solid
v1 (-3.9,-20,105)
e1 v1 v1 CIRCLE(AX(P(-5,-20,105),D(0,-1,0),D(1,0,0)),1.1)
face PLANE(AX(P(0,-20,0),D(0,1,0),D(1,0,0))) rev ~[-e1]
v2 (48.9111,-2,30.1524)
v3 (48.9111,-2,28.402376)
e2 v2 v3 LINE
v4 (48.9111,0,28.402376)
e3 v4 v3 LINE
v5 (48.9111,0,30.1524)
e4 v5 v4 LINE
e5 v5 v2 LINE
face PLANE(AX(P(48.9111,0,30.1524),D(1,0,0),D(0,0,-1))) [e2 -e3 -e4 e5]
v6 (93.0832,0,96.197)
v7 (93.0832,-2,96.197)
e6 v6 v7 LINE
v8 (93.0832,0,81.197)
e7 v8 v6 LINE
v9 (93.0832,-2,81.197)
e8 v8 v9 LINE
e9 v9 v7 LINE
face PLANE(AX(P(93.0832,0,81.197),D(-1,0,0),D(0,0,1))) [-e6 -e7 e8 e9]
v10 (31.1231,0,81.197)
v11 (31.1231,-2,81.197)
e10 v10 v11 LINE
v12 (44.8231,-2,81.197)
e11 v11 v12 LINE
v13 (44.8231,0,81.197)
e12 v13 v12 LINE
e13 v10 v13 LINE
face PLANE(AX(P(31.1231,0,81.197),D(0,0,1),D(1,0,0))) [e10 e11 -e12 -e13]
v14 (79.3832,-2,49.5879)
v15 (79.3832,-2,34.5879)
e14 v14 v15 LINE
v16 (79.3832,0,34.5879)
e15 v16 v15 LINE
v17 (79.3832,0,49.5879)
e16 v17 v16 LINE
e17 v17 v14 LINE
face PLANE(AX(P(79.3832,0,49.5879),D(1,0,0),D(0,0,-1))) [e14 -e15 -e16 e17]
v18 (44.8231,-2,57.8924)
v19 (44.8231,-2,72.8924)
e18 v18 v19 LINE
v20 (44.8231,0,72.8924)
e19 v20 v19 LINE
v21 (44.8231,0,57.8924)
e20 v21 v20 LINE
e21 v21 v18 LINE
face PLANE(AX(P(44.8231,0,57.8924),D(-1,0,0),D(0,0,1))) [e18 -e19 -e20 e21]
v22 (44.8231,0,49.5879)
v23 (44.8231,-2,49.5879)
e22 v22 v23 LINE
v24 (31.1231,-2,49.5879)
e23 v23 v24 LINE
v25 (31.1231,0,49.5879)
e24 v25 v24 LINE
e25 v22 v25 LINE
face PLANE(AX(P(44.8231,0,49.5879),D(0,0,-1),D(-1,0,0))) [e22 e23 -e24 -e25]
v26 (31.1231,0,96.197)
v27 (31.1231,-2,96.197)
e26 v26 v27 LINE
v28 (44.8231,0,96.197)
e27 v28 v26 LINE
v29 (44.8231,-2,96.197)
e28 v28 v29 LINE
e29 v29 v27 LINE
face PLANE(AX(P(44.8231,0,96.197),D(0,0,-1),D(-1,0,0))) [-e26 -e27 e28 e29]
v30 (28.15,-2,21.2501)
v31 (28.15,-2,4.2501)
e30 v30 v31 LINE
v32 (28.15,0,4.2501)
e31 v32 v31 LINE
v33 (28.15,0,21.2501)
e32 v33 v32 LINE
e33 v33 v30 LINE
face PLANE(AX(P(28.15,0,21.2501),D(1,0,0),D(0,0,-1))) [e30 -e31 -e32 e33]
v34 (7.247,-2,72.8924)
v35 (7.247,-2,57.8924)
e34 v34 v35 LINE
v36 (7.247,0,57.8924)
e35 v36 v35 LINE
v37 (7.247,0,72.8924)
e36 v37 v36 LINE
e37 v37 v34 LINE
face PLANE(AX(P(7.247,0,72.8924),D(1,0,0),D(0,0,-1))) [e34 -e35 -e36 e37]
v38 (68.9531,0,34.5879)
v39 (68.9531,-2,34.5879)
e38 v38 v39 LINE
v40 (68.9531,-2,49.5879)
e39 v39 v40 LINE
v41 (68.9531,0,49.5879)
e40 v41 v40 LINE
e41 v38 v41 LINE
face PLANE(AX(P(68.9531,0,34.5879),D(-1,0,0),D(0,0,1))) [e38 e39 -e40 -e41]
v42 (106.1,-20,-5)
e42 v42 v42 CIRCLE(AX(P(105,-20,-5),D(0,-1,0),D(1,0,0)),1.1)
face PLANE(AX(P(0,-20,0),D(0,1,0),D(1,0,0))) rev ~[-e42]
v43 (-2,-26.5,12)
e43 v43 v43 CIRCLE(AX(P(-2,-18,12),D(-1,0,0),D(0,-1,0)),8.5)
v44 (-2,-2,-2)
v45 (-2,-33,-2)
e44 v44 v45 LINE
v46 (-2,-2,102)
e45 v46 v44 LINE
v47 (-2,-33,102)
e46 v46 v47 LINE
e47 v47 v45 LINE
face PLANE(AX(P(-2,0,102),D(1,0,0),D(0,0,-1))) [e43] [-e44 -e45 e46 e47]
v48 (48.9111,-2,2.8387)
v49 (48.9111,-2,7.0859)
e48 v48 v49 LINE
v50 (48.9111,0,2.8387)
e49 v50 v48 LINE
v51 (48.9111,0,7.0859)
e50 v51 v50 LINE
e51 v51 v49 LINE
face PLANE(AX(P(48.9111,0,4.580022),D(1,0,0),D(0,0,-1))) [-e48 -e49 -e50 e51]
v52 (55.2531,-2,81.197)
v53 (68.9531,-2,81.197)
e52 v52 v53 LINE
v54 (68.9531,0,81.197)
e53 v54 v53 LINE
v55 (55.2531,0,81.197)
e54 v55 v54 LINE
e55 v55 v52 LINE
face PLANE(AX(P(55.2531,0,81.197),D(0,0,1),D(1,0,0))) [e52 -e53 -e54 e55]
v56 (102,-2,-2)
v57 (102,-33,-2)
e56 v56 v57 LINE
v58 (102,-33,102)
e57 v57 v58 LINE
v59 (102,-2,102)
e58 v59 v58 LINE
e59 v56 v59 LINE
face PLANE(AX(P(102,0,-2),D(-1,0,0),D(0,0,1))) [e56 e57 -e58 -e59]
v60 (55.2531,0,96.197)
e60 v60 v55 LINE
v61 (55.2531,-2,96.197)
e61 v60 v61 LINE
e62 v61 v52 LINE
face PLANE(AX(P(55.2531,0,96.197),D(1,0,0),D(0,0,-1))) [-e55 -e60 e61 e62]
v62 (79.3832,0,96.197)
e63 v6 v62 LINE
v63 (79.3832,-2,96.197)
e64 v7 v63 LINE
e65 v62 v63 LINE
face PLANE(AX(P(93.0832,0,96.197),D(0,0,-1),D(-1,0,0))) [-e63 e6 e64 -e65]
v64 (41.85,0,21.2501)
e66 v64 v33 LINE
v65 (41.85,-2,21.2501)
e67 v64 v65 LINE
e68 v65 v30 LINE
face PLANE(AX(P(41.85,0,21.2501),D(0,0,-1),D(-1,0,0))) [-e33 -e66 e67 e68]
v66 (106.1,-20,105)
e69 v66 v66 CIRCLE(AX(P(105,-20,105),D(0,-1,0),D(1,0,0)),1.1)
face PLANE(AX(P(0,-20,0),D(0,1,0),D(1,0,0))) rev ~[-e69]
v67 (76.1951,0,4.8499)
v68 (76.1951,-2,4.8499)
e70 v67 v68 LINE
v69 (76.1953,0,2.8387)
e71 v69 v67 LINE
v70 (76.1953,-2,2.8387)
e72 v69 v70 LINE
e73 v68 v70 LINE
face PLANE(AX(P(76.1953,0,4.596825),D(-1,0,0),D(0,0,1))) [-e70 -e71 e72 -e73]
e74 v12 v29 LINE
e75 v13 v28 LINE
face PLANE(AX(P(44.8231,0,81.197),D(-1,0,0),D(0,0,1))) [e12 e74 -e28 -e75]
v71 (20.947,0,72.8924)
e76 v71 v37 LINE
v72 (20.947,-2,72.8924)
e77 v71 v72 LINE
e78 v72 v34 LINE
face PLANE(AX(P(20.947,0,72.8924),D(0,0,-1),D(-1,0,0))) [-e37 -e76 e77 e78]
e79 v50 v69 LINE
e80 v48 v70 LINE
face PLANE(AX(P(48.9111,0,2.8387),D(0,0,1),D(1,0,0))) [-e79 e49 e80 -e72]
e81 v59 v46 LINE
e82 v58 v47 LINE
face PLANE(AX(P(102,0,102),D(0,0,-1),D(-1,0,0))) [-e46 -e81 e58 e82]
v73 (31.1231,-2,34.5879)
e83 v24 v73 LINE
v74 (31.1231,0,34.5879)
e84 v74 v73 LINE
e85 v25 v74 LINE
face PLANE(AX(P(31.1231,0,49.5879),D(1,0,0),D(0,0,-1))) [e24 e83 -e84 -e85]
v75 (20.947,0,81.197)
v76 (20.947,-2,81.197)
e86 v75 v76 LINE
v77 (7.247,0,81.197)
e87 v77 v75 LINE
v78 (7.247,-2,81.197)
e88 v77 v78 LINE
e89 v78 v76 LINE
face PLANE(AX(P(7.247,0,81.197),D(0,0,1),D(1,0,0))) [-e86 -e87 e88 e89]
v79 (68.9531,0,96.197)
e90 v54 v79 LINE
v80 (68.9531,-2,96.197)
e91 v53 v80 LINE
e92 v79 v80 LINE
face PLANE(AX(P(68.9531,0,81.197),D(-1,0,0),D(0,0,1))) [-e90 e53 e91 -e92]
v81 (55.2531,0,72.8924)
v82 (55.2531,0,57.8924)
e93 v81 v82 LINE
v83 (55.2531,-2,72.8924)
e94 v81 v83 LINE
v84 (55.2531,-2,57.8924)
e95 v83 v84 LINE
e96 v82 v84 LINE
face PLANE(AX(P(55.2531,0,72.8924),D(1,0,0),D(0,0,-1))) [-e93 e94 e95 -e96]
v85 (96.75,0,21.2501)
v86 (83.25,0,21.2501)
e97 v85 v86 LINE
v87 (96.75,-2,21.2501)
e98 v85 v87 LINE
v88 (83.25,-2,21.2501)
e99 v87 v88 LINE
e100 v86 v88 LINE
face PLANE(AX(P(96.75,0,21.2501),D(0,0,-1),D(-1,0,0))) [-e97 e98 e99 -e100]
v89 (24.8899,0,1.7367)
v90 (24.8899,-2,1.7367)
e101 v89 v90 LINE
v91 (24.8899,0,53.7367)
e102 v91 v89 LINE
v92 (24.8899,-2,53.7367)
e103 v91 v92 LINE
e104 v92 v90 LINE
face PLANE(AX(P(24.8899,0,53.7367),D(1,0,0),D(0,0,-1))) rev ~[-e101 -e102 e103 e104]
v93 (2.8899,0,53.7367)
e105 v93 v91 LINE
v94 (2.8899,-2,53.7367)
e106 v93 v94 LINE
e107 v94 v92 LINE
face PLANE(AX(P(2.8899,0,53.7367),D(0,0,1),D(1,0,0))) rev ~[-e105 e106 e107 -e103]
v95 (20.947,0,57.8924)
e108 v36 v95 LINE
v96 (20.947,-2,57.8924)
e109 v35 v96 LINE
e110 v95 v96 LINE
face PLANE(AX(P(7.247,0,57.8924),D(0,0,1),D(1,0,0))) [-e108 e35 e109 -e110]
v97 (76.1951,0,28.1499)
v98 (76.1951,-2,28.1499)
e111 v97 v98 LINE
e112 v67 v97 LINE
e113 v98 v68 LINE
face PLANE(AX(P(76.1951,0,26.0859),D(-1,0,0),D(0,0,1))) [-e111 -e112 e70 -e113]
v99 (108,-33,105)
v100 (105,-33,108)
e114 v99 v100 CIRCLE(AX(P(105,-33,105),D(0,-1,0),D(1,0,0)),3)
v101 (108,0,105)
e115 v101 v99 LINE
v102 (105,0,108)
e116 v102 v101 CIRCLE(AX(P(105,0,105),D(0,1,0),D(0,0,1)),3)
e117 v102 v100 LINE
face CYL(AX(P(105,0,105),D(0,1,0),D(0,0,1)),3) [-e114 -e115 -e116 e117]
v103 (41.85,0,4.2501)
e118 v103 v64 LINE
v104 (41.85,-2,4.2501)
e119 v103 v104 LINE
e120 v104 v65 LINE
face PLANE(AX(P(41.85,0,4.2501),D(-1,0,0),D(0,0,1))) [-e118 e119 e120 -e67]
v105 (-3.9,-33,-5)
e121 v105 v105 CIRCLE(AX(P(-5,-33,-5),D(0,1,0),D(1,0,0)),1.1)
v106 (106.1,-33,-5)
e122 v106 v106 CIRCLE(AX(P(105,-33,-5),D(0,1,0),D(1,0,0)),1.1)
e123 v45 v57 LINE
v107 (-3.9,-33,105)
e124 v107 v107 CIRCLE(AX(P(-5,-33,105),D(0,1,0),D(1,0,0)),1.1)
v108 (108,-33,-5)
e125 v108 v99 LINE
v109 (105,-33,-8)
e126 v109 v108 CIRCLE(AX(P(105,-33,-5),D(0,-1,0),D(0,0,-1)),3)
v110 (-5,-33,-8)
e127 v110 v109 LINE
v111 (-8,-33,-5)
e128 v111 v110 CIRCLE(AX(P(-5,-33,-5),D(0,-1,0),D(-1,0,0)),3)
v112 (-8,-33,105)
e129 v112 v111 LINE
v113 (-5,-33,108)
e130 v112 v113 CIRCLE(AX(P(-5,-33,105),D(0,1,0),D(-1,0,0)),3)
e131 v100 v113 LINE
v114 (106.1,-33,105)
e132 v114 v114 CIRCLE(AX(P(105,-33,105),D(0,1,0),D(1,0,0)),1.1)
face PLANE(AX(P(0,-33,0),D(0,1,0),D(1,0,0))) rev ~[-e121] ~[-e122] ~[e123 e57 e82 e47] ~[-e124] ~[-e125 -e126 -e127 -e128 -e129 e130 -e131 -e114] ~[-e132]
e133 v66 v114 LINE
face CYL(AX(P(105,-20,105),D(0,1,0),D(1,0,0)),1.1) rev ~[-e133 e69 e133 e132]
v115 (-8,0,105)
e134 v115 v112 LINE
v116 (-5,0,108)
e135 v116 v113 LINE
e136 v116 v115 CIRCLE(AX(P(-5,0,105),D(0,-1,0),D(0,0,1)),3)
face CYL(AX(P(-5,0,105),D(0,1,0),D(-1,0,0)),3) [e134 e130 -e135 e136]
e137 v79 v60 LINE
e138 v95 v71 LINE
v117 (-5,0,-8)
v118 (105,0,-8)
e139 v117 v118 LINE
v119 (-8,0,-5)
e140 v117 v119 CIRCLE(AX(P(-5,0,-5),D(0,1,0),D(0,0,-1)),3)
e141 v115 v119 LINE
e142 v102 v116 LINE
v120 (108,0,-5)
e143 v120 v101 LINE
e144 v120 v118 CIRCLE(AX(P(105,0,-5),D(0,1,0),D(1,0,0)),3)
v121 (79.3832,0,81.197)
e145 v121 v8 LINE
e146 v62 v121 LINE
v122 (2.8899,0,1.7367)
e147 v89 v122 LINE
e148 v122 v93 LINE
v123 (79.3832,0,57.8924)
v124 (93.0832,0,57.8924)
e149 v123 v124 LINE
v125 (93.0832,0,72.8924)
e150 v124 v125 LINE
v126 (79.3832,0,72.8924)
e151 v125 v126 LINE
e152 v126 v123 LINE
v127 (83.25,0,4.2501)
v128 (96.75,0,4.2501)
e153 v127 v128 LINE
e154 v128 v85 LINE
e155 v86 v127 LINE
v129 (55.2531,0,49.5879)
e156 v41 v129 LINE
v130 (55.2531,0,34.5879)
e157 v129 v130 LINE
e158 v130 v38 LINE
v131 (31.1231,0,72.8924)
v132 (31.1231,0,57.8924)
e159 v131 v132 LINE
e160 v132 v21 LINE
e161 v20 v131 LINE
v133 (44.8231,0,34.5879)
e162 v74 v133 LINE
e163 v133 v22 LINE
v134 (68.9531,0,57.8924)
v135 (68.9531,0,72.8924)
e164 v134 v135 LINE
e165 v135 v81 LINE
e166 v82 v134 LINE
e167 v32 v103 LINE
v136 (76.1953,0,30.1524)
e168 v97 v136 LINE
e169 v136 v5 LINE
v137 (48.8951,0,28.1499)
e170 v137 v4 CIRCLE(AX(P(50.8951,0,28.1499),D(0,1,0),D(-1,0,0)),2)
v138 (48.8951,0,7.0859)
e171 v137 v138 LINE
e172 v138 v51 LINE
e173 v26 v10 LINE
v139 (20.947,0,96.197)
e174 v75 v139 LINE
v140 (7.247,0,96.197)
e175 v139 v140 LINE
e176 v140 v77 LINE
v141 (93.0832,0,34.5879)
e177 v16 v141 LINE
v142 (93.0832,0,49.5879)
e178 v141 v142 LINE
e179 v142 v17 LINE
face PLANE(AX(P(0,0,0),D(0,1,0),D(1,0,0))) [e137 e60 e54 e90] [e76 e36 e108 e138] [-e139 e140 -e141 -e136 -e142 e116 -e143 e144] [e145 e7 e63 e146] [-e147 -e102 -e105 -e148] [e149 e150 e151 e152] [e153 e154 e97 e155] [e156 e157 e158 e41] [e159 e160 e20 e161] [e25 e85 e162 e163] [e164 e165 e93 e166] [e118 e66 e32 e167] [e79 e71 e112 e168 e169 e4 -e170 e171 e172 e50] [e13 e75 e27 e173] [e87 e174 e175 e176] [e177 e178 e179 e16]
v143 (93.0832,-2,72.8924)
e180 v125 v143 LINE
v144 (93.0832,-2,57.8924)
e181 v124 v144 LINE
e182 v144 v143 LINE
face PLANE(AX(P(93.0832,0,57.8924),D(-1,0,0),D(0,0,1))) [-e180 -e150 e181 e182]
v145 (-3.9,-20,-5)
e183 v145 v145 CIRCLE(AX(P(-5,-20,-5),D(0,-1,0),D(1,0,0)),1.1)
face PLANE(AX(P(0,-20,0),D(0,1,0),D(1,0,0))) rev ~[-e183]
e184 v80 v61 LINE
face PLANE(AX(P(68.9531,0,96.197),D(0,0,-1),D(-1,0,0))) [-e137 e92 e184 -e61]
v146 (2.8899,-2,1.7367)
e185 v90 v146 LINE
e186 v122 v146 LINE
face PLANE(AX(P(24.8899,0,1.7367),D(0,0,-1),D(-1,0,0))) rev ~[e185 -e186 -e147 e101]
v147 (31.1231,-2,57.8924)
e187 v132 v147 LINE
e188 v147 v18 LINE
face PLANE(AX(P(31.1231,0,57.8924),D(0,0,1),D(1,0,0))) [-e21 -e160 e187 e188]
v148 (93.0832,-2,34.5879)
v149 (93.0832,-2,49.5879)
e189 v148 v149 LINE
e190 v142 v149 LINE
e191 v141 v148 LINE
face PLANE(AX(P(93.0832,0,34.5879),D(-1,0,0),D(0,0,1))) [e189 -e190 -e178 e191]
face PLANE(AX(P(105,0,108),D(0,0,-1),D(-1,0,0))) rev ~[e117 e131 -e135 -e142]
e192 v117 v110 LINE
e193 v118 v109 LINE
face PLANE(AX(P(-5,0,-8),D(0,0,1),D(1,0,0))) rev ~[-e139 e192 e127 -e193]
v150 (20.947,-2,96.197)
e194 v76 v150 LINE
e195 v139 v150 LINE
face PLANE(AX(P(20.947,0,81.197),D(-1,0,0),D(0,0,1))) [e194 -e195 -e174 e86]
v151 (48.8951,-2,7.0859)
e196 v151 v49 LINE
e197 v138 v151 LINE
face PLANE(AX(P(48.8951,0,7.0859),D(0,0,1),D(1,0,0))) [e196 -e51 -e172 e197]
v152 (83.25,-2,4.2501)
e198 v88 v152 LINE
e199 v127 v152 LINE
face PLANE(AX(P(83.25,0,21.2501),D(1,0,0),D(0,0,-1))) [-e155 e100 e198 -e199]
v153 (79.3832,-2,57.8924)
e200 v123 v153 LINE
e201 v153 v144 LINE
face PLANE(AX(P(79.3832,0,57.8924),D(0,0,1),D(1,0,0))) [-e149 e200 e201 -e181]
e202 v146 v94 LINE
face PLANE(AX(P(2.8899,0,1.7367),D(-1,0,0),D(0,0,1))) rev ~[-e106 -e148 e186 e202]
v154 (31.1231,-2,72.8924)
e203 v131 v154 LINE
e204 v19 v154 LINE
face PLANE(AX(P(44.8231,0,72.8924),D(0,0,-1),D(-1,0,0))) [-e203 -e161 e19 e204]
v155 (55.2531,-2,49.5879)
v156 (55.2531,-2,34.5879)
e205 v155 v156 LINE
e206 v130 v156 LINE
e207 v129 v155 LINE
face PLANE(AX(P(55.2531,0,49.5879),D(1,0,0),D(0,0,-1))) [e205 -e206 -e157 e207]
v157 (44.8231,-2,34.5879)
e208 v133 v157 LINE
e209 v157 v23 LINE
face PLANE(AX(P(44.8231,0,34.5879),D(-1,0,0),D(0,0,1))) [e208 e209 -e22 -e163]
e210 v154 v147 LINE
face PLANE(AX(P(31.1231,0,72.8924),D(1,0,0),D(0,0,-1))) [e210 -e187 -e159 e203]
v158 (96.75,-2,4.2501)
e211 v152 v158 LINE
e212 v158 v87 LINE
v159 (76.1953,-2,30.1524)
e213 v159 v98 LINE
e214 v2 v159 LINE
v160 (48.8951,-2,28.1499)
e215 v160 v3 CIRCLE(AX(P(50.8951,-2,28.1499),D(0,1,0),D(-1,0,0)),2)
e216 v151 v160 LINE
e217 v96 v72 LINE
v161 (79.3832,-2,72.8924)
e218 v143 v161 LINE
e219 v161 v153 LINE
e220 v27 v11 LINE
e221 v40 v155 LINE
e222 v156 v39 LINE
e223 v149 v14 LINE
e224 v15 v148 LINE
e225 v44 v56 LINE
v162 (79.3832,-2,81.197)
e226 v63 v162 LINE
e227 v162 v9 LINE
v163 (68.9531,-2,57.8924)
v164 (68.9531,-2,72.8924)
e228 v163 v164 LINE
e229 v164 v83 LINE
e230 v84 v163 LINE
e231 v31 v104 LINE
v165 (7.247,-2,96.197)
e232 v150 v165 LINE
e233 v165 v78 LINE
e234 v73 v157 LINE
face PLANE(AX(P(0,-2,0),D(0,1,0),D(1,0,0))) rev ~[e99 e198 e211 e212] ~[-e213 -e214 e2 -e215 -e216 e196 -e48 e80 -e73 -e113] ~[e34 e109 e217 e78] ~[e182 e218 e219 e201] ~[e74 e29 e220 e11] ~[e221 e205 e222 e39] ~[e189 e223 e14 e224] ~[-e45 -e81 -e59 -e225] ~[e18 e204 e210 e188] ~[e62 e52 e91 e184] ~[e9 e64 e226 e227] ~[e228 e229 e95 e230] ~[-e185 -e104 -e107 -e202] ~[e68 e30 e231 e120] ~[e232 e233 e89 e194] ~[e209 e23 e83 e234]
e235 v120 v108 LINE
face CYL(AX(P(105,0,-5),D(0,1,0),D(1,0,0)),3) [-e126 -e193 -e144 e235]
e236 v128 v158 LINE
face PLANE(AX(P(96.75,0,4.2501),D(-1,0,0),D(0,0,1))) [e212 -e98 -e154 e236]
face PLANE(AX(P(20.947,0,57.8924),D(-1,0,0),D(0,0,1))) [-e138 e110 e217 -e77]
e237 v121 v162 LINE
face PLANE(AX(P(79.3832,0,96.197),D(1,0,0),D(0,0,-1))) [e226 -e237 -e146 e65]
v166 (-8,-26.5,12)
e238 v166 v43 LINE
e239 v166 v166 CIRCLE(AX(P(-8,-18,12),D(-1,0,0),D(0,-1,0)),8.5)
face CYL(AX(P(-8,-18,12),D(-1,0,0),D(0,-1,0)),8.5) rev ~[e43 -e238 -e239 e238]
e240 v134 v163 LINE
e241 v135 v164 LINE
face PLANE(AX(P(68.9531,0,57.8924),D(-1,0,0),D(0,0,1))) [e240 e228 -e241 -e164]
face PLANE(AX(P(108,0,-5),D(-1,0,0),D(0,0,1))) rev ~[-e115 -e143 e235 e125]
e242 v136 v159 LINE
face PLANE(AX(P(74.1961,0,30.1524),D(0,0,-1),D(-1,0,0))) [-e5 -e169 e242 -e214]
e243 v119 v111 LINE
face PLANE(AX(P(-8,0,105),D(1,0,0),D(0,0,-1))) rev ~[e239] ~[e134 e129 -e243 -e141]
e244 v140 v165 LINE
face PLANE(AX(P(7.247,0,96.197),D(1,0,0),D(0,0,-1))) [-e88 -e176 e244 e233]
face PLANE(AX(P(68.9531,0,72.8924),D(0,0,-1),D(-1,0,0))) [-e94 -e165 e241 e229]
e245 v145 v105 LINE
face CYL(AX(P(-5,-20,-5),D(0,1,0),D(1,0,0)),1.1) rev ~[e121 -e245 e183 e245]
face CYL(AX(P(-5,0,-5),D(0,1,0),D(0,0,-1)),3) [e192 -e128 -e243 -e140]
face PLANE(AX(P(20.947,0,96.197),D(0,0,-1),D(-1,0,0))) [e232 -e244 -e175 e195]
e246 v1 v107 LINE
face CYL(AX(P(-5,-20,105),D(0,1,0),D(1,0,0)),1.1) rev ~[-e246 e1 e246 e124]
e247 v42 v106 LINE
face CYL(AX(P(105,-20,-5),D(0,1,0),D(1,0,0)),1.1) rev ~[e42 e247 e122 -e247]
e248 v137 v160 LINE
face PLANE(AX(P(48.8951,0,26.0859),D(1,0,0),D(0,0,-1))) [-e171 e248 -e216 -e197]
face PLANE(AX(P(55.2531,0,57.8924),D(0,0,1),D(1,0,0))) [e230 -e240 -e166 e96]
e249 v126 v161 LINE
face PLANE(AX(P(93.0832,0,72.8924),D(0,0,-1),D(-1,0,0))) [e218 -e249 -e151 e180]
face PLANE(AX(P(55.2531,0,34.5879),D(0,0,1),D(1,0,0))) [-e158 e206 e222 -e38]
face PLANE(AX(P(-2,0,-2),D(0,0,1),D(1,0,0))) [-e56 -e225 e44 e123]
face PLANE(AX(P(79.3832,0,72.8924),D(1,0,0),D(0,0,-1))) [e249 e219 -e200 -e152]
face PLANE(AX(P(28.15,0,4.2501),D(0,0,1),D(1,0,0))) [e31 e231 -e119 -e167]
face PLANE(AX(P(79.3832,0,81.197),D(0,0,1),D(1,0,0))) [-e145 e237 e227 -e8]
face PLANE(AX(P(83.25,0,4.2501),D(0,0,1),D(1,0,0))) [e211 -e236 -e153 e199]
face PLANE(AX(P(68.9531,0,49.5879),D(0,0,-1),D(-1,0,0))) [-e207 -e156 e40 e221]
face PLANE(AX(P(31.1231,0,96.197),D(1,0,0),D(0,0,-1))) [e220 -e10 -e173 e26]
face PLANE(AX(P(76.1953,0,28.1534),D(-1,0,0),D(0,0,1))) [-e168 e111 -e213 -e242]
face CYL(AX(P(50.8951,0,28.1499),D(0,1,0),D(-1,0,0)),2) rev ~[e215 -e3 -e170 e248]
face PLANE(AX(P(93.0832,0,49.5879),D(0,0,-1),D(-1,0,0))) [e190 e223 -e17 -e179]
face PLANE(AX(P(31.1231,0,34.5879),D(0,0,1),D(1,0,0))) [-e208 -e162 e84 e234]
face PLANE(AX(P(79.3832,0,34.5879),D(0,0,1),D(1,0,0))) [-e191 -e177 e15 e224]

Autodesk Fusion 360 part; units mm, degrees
sketch "MacroKeyboard" plane through (0, 0, 0) normal (0, 1, 0) x (1, 0, 0)
  line L0 (24.38, -2.5067) -> (24.3899, -2.2367)
  line L1 (48.8951, -28.1499) -> (48.8951, -6.1499)
  line L2 (48.8951, -6.1499) -> (48.8951, -4.8499)
  line L3 (50.8951, -2.8499) -> (74.1951, -2.8499)
  line L4 (76.1951, -4.8499) -> (76.1951, -28.1499)
  line L5 (48.8951, -26.0859) -> (75.8951, -26.0859)
  line L6 (75.8951, -26.0859) -> (76.1951, -26.0859)
  line L7 (48.8951, -7.0859) -> (76.1951, -7.0859)
  line L8 (50.9271, -30.1499) -> (53.9271, -30.1499)
  line L9 (71.2271, -30.1499) -> (74.2271, -30.1499)
  line L10 (55.9271, -28.1499) -> (69.2271, -28.1499)
  line L11 (53.9271, -30.1499) -> (55.9271, -28.1499)
  line L12 (69.2271, -28.1499) -> (71.2271, -30.1499)
  line L13 (36.27, -14.02) -> (33.73, -14.02)
  line L14 (28.7501, -19.4501) -> (28.7501, -14.9001)
  line L15 (41.2502, -19.4501) -> (41.2502, -14.9001)
  line L16 (28.7501, -10.6) -> (28.7501, -6.05)
  line L17 (41.2502, -10.6) -> (41.2502, -6.05)
  line L18 (38.7003, -6.05) -> (41.2504, -6.05)
  line L19 (38.4002, -19.4501) -> (41.2501, -19.4501)
  line L20 (35.92, -19.4501) -> (36.62, -19.4501)
  line L21 (33.4, -19.4501) -> (34.1, -19.4501)
  line L22 (28.7501, -19.4501) -> (31.6, -19.4501)
  line L23 (33.725, -6.05) -> (36.275, -6.05)
  line L24 (28.7501, -6.05) -> (31.3, -6.05)
  line L25 (91.27, -14.02) -> (88.73, -14.02)
  line L26 (83.7501, -19.4501) -> (83.7501, -14.9001)
  line L27 (96.2502, -19.4501) -> (96.2502, -14.9001)
  line L28 (83.7501, -10.6) -> (83.7501, -6.05)
  line L29 (96.2502, -10.6) -> (96.2502, -6.05)
  line L30 (93.7003, -6.05) -> (96.2504, -6.05)
  line L31 (93.4002, -19.4501) -> (96.2501, -19.4501)
  line L32 (90.92, -19.4501) -> (91.62, -19.4501)
  line L33 (88.4, -19.4501) -> (89.1, -19.4501)
  line L34 (83.7501, -19.4501) -> (86.6, -19.4501)
  line L35 (88.725, -6.05) -> (91.275, -6.05)
  line L36 (83.7501, -6.05) -> (86.3, -6.05)
  arc A0 (48.8951, -28.1499) -> (50.8951, -30.1499) centre (50.8951, -28.1499) ccw
  arc A1 (50.8915, -2.8524) -> (48.8926, -4.8514) centre (50.8915, -4.8514) ccw
  arc A2 (76.2103, -4.8412) -> (74.2113, -2.8423) centre (74.2113, -4.8412) ccw
  arc A3 (74.1961, -30.1524) -> (76.1951, -28.1534) centre (74.1961, -28.1534) ccw
  arc A4 (36.27, -14.02) -> (33.73, -14.02) centre (35, -12.75) ccw
  arc A5 (91.27, -14.02) -> (88.73, -14.02) centre (90, -12.75) ccw
  circle A6 centre (35, -12.7501) radius 3
  circle A7 centre (90, -12.7501) radius 3
  circle A8 centre (34.1631, -39.5479) radius 0.7493
  circle A9 centre (34.1631, -39.5479) radius 1.1557
  circle A10 centre (40.5131, -37.0079) radius 0.7493
  circle A11 centre (40.5131, -37.0079) radius 1.1557
  circle A12 centre (58.2931, -39.5479) radius 0.7493
  circle A13 centre (58.2931, -39.5479) radius 1.1557
  circle A14 centre (64.6431, -37.0079) radius 0.7493
  circle A15 centre (64.6431, -37.0079) radius 1.1557
  circle A16 centre (82.4232, -39.5479) radius 0.7493
  circle A17 centre (82.4232, -39.5479) radius 1.1557
  circle A18 centre (88.7732, -37.0079) radius 0.7493
  circle A19 centre (88.7732, -37.0079) radius 1.1557
  circle A20 centre (10.287, -62.8524) radius 0.7493
  circle A21 centre (10.287, -62.8524) radius 1.1557
  circle A22 centre (16.637, -60.3124) radius 0.7493
  circle A23 centre (16.637, -60.3124) radius 1.1557
  circle A24 centre (34.163, -62.8524) radius 0.7493
  circle A25 centre (34.1631, -62.8524) radius 1.1557
  circle A26 centre (40.513, -60.3124) radius 0.7493
  circle A27 centre (40.5131, -60.3124) radius 1.1557
  circle A28 centre (58.2932, -62.8524) radius 0.7493
  circle A29 centre (58.2931, -62.8524) radius 1.1557
  circle A30 centre (64.6432, -60.3124) radius 0.7493
  circle A31 centre (64.6431, -60.3124) radius 1.1557
  circle A32 centre (82.4232, -62.8524) radius 0.7493
  circle A33 centre (82.4232, -62.8524) radius 1.1557
  circle A34 centre (88.7732, -60.3124) radius 0.7493
  circle A35 centre (88.7732, -60.3124) radius 1.1557
  circle A36 centre (10.287, -86.157) radius 0.7493
  circle A37 centre (10.287, -86.157) radius 1.1557
  circle A38 centre (16.637, -83.617) radius 0.7493
  circle A39 centre (16.637, -83.617) radius 1.1557
  circle A40 centre (34.1631, -86.157) radius 0.7493
  circle A41 centre (34.1631, -86.157) radius 1.1557
  circle A42 centre (40.5131, -83.617) radius 0.7493
  circle A43 centre (40.5131, -83.617) radius 1.1557
  circle A44 centre (58.2931, -86.157) radius 0.7493
  circle A45 centre (58.2931, -86.157) radius 1.1557
  circle A46 centre (64.6431, -83.617) radius 0.7493
  circle A47 centre (64.6431, -83.617) radius 1.1557
  circle A48 centre (82.4232, -86.157) radius 0.7493
  circle A49 centre (82.4232, -86.157) radius 1.1557
  circle A50 centre (88.7732, -83.617) radius 0.7493
  circle A51 centre (88.7732, -83.617) radius 1.1557
  arc A52 (5.0001, -4.1567) -> (5.0001, -3.0569) centre (5.0001, -3.6068) ccw
  arc A53 (4.9999, -3.0569) -> (4.9999, -4.1567) centre (4.9999, -3.6068) ccw
  line L37 (5.0001, -4.1567) -> (4.9999, -4.1567)
  line L38 (4.9999, -4.1567) -> (5.0001, -4.1567)
  line L39 (5.0001, -3.0569) -> (4.9999, -3.0569)
  line L40 (4.9999, -3.0569) -> (5.0001, -3.0569)
  arc A54 (5.0001, -6.6967) -> (5.0001, -5.5969) centre (5.0001, -6.1468) ccw
  arc A55 (4.9999, -5.5969) -> (4.9999, -6.6967) centre (4.9999, -6.1468) ccw
  line L41 (4.9999, -6.6967) -> (5.0001, -6.6967)
  line L42 (5.0001, -6.6967) -> (4.9999, -6.6967)
  line L43 (5.0001, -5.5969) -> (4.9999, -5.5969)
  line L44 (4.9999, -5.5969) -> (5.0001, -5.5969)
  arc A56 (5.0001, -9.2367) -> (5.0001, -8.1369) centre (5.0001, -8.6868) ccw
  arc A57 (4.9999, -8.1369) -> (4.9999, -9.2367) centre (4.9999, -8.6868) ccw
  line L45 (5.0001, -9.2367) -> (4.9999, -9.2367)
  line L46 (4.9999, -9.2367) -> (5.0001, -9.2367)
  line L47 (4.9999, -8.1369) -> (5.0001, -8.1369)
  line L48 (5.0001, -8.1369) -> (4.9999, -8.1369)
  arc A58 (5.0001, -11.7767) -> (5.0001, -10.6769) centre (5.0001, -11.2268) ccw
  arc A59 (4.9999, -10.6769) -> (4.9999, -11.7767) centre (4.9999, -11.2268) ccw
  line L49 (5.0001, -11.7767) -> (4.9999, -11.7767)
  line L50 (4.9999, -11.7767) -> (5.0001, -11.7767)
  line L51 (4.9999, -10.6769) -> (5.0001, -10.6769)
  line L52 (5.0001, -10.6769) -> (4.9999, -10.6769)
  arc A60 (5.0001, -14.3167) -> (5.0001, -13.2169) centre (5.0001, -13.7668) ccw
  arc A61 (4.9999, -13.2169) -> (4.9999, -14.3167) centre (4.9999, -13.7668) ccw
  line L53 (5.0001, -14.3167) -> (4.9999, -14.3167)
  line L54 (4.9999, -14.3167) -> (5.0001, -14.3167)
  line L55 (5.0001, -13.2169) -> (4.9999, -13.2169)
  line L56 (4.9999, -13.2169) -> (5.0001, -13.2169)
  arc A62 (5.0001, -16.8567) -> (5.0001, -15.7569) centre (5.0001, -16.3068) ccw
  arc A63 (4.9999, -15.7569) -> (4.9999, -16.8567) centre (4.9999, -16.3068) ccw
  line L57 (4.9999, -16.8567) -> (5.0001, -16.8567)
  line L58 (5.0001, -16.8567) -> (4.9999, -16.8567)
  line L59 (5.0001, -15.7569) -> (4.9999, -15.7569)
  line L60 (4.9999, -15.7569) -> (5.0001, -15.7569)
  arc A64 (5.0001, -19.3967) -> (5.0001, -18.2969) centre (5.0001, -18.8468) ccw
  arc A65 (4.9999, -18.2969) -> (4.9999, -19.3967) centre (4.9999, -18.8468) ccw
  line L61 (5.0001, -19.3967) -> (4.9999, -19.3967)
  line L62 (4.9999, -19.3967) -> (5.0001, -19.3967)
  line L63 (5.0001, -18.2969) -> (4.9999, -18.2969)
  line L64 (4.9999, -18.2969) -> (5.0001, -18.2969)
  arc A66 (5.0001, -21.9368) -> (5.0001, -20.8369) centre (5.0001, -21.3868) ccw
  arc A67 (4.9999, -20.8369) -> (4.9999, -21.9368) centre (4.9999, -21.3868) ccw
  line L65 (5.0001, -21.9368) -> (4.9999, -21.9368)
  line L66 (4.9999, -21.9368) -> (5.0001, -21.9368)
  line L67 (5.0001, -20.8369) -> (4.9999, -20.8369)
  line L68 (4.9999, -20.8369) -> (5.0001, -20.8369)
  arc A68 (5.0001, -24.4768) -> (5.0001, -23.3769) centre (5.0001, -23.9268) ccw
  arc A69 (4.9999, -23.3769) -> (4.9999, -24.4768) centre (4.9999, -23.9268) ccw
  line L69 (5.0001, -24.4768) -> (4.9999, -24.4768)
  line L70 (4.9999, -24.4768) -> (5.0001, -24.4768)
  line L71 (5.0001, -23.3769) -> (4.9999, -23.3769)
  line L72 (4.9999, -23.3769) -> (5.0001, -23.3769)
  arc A70 (5.0001, -27.0168) -> (5.0001, -25.9169) centre (5.0001, -26.4669) ccw
  arc A71 (4.9999, -25.9169) -> (4.9999, -27.0168) centre (4.9999, -26.4669) ccw
  line L73 (4.9999, -27.0168) -> (5.0001, -27.0168)
  line L74 (5.0001, -27.0168) -> (4.9999, -27.0168)
  line L75 (4.9999, -25.9169) -> (5.0001, -25.9169)
  line L76 (5.0001, -25.9169) -> (4.9999, -25.9169)
  arc A72 (5.0001, -29.5568) -> (5.0001, -28.4569) centre (5.0001, -29.0069) ccw
  arc A73 (4.9999, -28.4569) -> (4.9999, -29.5568) centre (4.9999, -29.0069) ccw
  line L77 (5.0001, -29.5568) -> (4.9999, -29.5568)
  line L78 (4.9999, -29.5568) -> (5.0001, -29.5568)
  line L79 (4.9999, -28.4569) -> (5.0001, -28.4569)
  line L80 (5.0001, -28.4569) -> (4.9999, -28.4569)
  arc A74 (5.0001, -32.0968) -> (5.0001, -30.997) centre (5.0001, -31.5469) ccw
  arc A75 (4.9999, -30.997) -> (4.9999, -32.0968) centre (4.9999, -31.5469) ccw
  line L81 (4.9999, -32.0968) -> (5.0001, -32.0968)
  line L82 (5.0001, -32.0968) -> (4.9999, -32.0968)
  line L83 (4.9999, -30.997) -> (5.0001, -30.997)
  line L84 (5.0001, -30.997) -> (4.9999, -30.997)
  arc A76 (5.0001, -34.6368) -> (5.0001, -33.537) centre (5.0001, -34.0869) ccw
  arc A77 (4.9999, -33.537) -> (4.9999, -34.6368) centre (4.9999, -34.0869) ccw
  line L85 (5.0001, -34.6368) -> (4.9999, -34.6368)
  line L86 (4.9999, -34.6368) -> (5.0001, -34.6368)
  line L87 (5.0001, -33.537) -> (4.9999, -33.537)
  line L88 (4.9999, -33.537) -> (5.0001, -33.537)
  arc A78 (5.0001, -37.1768) -> (5.0001, -36.077) centre (5.0001, -36.6269) ccw
  arc A79 (4.9999, -36.077) -> (4.9999, -37.1768) centre (4.9999, -36.6269) ccw
  line L89 (5.0001, -37.1768) -> (4.9999, -37.1768)
  line L90 (4.9999, -37.1768) -> (5.0001, -37.1768)
  line L91 (5.0001, -36.077) -> (4.9999, -36.077)
  line L92 (4.9999, -36.077) -> (5.0001, -36.077)
  arc A80 (5.0001, -39.7168) -> (5.0001, -38.617) centre (5.0001, -39.1669) ccw
  arc A81 (4.9999, -38.617) -> (4.9999, -39.7168) centre (4.9999, -39.1669) ccw
  line L93 (4.9999, -39.7168) -> (5.0001, -39.7168)
  line L94 (5.0001, -39.7168) -> (4.9999, -39.7168)
  line L95 (5.0001, -38.617) -> (4.9999, -38.617)
  line L96 (4.9999, -38.617) -> (5.0001, -38.617)
  arc A82 (5.0001, -42.2568) -> (5.0001, -41.157) centre (5.0001, -41.7069) ccw
  arc A83 (4.9999, -41.157) -> (4.9999, -42.2568) centre (4.9999, -41.7069) ccw
  line L97 (4.9999, -42.2568) -> (5.0001, -42.2568)
  line L98 (5.0001, -42.2568) -> (4.9999, -42.2568)
  line L99 (4.9999, -41.157) -> (5.0001, -41.157)
  line L100 (5.0001, -41.157) -> (4.9999, -41.157)
  arc A84 (5.0001, -44.7968) -> (5.0001, -43.697) centre (5.0001, -44.2469) ccw
  arc A85 (4.9999, -43.697) -> (4.9999, -44.7968) centre (4.9999, -44.2469) ccw
  line L101 (4.9999, -44.7968) -> (5.0001, -44.7968)
  line L102 (5.0001, -44.7968) -> (4.9999, -44.7968)
  line L103 (4.9999, -43.697) -> (5.0001, -43.697)
  line L104 (5.0001, -43.697) -> (4.9999, -43.697)
  arc A86 (5.0001, -47.3368) -> (5.0001, -46.237) centre (5.0001, -46.7869) ccw
  arc A87 (4.9999, -46.237) -> (4.9999, -47.3368) centre (4.9999, -46.7869) ccw
  line L105 (5.0001, -47.3368) -> (4.9999, -47.3368)
  line L106 (4.9999, -47.3368) -> (5.0001, -47.3368)
  line L107 (4.9999, -46.237) -> (5.0001, -46.237)
  line L108 (5.0001, -46.237) -> (4.9999, -46.237)
  arc A88 (5.0001, -49.8768) -> (5.0001, -48.777) centre (5.0001, -49.3269) ccw
  arc A89 (4.9999, -48.777) -> (4.9999, -49.8768) centre (4.9999, -49.3269) ccw
  line L109 (4.9999, -49.8768) -> (5.0001, -49.8768)
  line L110 (5.0001, -49.8768) -> (4.9999, -49.8768)
  line L111 (5.0001, -48.777) -> (4.9999, -48.777)
  line L112 (4.9999, -48.777) -> (5.0001, -48.777)
  arc A90 (5.0001, -52.4168) -> (5.0001, -51.317) centre (5.0001, -51.8669) ccw
  arc A91 (4.9999, -51.317) -> (4.9999, -52.4168) centre (4.9999, -51.8669) ccw
  line L113 (4.9999, -52.4168) -> (5.0001, -52.4168)
  line L114 (5.0001, -52.4168) -> (4.9999, -52.4168)
  line L115 (4.9999, -51.317) -> (5.0001, -51.317)
  line L116 (5.0001, -51.317) -> (4.9999, -51.317)
  arc A92 (22.7799, -51.317) -> (22.7799, -52.4168) centre (22.7799, -51.8669) ccw
  arc A93 (22.7802, -52.4168) -> (22.7802, -51.317) centre (22.7802, -51.8669) ccw
  line L117 (22.7799, -51.317) -> (22.7802, -51.317)
  line L118 (22.7802, -51.317) -> (22.7799, -51.317)
  line L119 (22.7799, -52.4168) -> (22.7802, -52.4168)
  line L120 (22.7802, -52.4168) -> (22.7799, -52.4168)
  arc A94 (22.7799, -48.777) -> (22.7799, -49.8768) centre (22.7799, -49.3269) ccw
  arc A95 (22.7802, -49.8768) -> (22.7802, -48.777) centre (22.7802, -49.3269) ccw
  line L121 (22.7799, -48.777) -> (22.7802, -48.777)
  line L122 (22.7802, -48.777) -> (22.7799, -48.777)
  line L123 (22.7799, -49.8768) -> (22.7802, -49.8768)
  line L124 (22.7802, -49.8768) -> (22.7799, -49.8768)
  arc A96 (22.7799, -46.237) -> (22.7799, -47.3368) centre (22.7799, -46.7869) ccw
  arc A97 (22.7802, -47.3368) -> (22.7802, -46.237) centre (22.7802, -46.7869) ccw
  line L125 (22.7802, -46.237) -> (22.7799, -46.237)
  line L126 (22.7799, -46.237) -> (22.7802, -46.237)
  line L127 (22.7802, -47.3368) -> (22.7799, -47.3368)
  line L128 (22.7799, -47.3368) -> (22.7802, -47.3368)
  arc A98 (22.7799, -43.697) -> (22.7799, -44.7968) centre (22.7799, -44.2469) ccw
  arc A99 (22.7802, -44.7968) -> (22.7802, -43.697) centre (22.7802, -44.2469) ccw
  line L129 (22.7802, -43.697) -> (22.7799, -43.697)
  line L130 (22.7799, -43.697) -> (22.7802, -43.697)
  line L131 (22.7799, -44.7968) -> (22.7802, -44.7968)
  line L132 (22.7802, -44.7968) -> (22.7799, -44.7968)
  arc A100 (22.7799, -41.157) -> (22.7799, -42.2568) centre (22.7799, -41.7069) ccw
  arc A101 (22.7802, -42.2568) -> (22.7802, -41.157) centre (22.7802, -41.7069) ccw
  line L133 (22.7799, -41.157) -> (22.7802, -41.157)
  line L134 (22.7802, -41.157) -> (22.7799, -41.157)
  line L135 (22.7802, -42.2568) -> (22.7799, -42.2568)
  line L136 (22.7799, -42.2568) -> (22.7802, -42.2568)
  arc A102 (22.7799, -38.617) -> (22.7799, -39.7168) centre (22.7799, -39.1669) ccw
  arc A103 (22.7802, -39.7168) -> (22.7802, -38.617) centre (22.7802, -39.1669) ccw
  line L137 (22.7799, -38.617) -> (22.7802, -38.617)
  line L138 (22.7802, -38.617) -> (22.7799, -38.617)
  line L139 (22.7802, -39.7168) -> (22.7799, -39.7168)
  line L140 (22.7799, -39.7168) -> (22.7802, -39.7168)
  arc A104 (22.7799, -36.077) -> (22.7799, -37.1768) centre (22.7799, -36.6269) ccw
  arc A105 (22.7802, -37.1768) -> (22.7802, -36.077) centre (22.7802, -36.6269) ccw
  line L141 (22.7802, -36.077) -> (22.7799, -36.077)
  line L142 (22.7799, -36.077) -> (22.7802, -36.077)
  line L143 (22.7802, -37.1768) -> (22.7799, -37.1768)
  line L144 (22.7799, -37.1768) -> (22.7802, -37.1768)
  arc A106 (22.7799, -33.537) -> (22.7799, -34.6368) centre (22.7799, -34.0869) ccw
  arc A107 (22.7802, -34.6368) -> (22.7802, -33.537) centre (22.7802, -34.0869) ccw
  line L145 (22.7799, -33.537) -> (22.7802, -33.537)
  line L146 (22.7802, -33.537) -> (22.7799, -33.537)
  line L147 (22.7802, -34.6368) -> (22.7799, -34.6368)
  line L148 (22.7799, -34.6368) -> (22.7802, -34.6368)
  arc A108 (22.7799, -30.997) -> (22.7799, -32.0968) centre (22.7799, -31.5469) ccw
  arc A109 (22.7802, -32.0968) -> (22.7802, -30.997) centre (22.7802, -31.5469) ccw
  line L149 (22.7802, -30.997) -> (22.7799, -30.997)
  line L150 (22.7799, -30.997) -> (22.7802, -30.997)
  line L151 (22.7802, -32.0968) -> (22.7799, -32.0968)
  line L152 (22.7799, -32.0968) -> (22.7802, -32.0968)
  arc A110 (22.7799, -28.4569) -> (22.7799, -29.5568) centre (22.7799, -29.0069) ccw
  arc A111 (22.7802, -29.5568) -> (22.7802, -28.4569) centre (22.7802, -29.0069) ccw
  line L153 (22.7802, -28.4569) -> (22.7799, -28.4569)
  line L154 (22.7799, -28.4569) -> (22.7802, -28.4569)
  line L155 (22.7799, -29.5568) -> (22.7802, -29.5568)
  line L156 (22.7802, -29.5568) -> (22.7799, -29.5568)
  arc A112 (22.7799, -25.9169) -> (22.7799, -27.0168) centre (22.7799, -26.4669) ccw
  arc A113 (22.7802, -27.0168) -> (22.7802, -25.9169) centre (22.7802, -26.4669) ccw
  line L157 (22.7802, -25.9169) -> (22.7799, -25.9169)
  line L158 (22.7799, -25.9169) -> (22.7802, -25.9169)
  line L159 (22.7799, -27.0168) -> (22.7802, -27.0168)
  line L160 (22.7802, -27.0168) -> (22.7799, -27.0168)
  arc A114 (22.7799, -23.3769) -> (22.7799, -24.4768) centre (22.7799, -23.9268) ccw
  arc A115 (22.7802, -24.4768) -> (22.7802, -23.3769) centre (22.7802, -23.9268) ccw
  line L161 (22.7799, -23.3769) -> (22.7802, -23.3769)
  line L162 (22.7802, -23.3769) -> (22.7799, -23.3769)
  line L163 (22.7799, -24.4768) -> (22.7802, -24.4768)
  line L164 (22.7802, -24.4768) -> (22.7799, -24.4768)
  arc A116 (22.7799, -20.8369) -> (22.7799, -21.9368) centre (22.7799, -21.3868) ccw
  arc A117 (22.7802, -21.9368) -> (22.7802, -20.8369) centre (22.7802, -21.3868) ccw
  line L165 (22.7802, -20.8369) -> (22.7799, -20.8369)
  line L166 (22.7799, -20.8369) -> (22.7802, -20.8369)
  line L167 (22.7799, -21.9368) -> (22.7802, -21.9368)
  line L168 (22.7802, -21.9368) -> (22.7799, -21.9368)
  arc A118 (22.7799, -18.2969) -> (22.7799, -19.3967) centre (22.7799, -18.8468) ccw
  arc A119 (22.7802, -19.3967) -> (22.7802, -18.2969) centre (22.7802, -18.8468) ccw
  line L169 (22.7799, -18.2969) -> (22.7802, -18.2969)
  line L170 (22.7802, -18.2969) -> (22.7799, -18.2969)
  line L171 (22.7802, -19.3967) -> (22.7799, -19.3967)
  line L172 (22.7799, -19.3967) -> (22.7802, -19.3967)
  arc A120 (22.7799, -15.7569) -> (22.7799, -16.8567) centre (22.7799, -16.3068) ccw
  arc A121 (22.7802, -16.8567) -> (22.7802, -15.7569) centre (22.7802, -16.3068) ccw
  line L173 (22.7799, -15.7569) -> (22.7802, -15.7569)
  line L174 (22.7802, -15.7569) -> (22.7799, -15.7569)
  line L175 (22.7802, -16.8567) -> (22.7799, -16.8567)
  line L176 (22.7799, -16.8567) -> (22.7802, -16.8567)
  arc A122 (22.7799, -13.2169) -> (22.7799, -14.3167) centre (22.7799, -13.7668) ccw
  arc A123 (22.7802, -14.3167) -> (22.7802, -13.2169) centre (22.7802, -13.7668) ccw
  line L177 (22.7802, -13.2169) -> (22.7799, -13.2169)
  line L178 (22.7799, -13.2169) -> (22.7802, -13.2169)
  line L179 (22.7802, -14.3167) -> (22.7799, -14.3167)
  line L180 (22.7799, -14.3167) -> (22.7802, -14.3167)
  arc A124 (22.7799, -10.6769) -> (22.7799, -11.7767) centre (22.7799, -11.2268) ccw
  arc A125 (22.7802, -11.7767) -> (22.7802, -10.6769) centre (22.7802, -11.2268) ccw
  line L181 (22.7802, -10.6769) -> (22.7799, -10.6769)
  line L182 (22.7799, -10.6769) -> (22.7802, -10.6769)
  line L183 (22.7799, -11.7767) -> (22.7802, -11.7767)
  line L184 (22.7802, -11.7767) -> (22.7799, -11.7767)
  arc A126 (22.7799, -8.1369) -> (22.7799, -9.2367) centre (22.7799, -8.6868) ccw
  arc A127 (22.7802, -9.2367) -> (22.7802, -8.1369) centre (22.7802, -8.6868) ccw
  line L185 (22.7799, -8.1369) -> (22.7802, -8.1369)
  line L186 (22.7802, -8.1369) -> (22.7799, -8.1369)
  line L187 (22.7799, -9.2367) -> (22.7802, -9.2367)
  line L188 (22.7802, -9.2367) -> (22.7799, -9.2367)
  arc A128 (22.7799, -5.5969) -> (22.7799, -6.6967) centre (22.7799, -6.1468) ccw
  arc A129 (22.7802, -6.6967) -> (22.7802, -5.5969) centre (22.7802, -6.1468) ccw
  line L189 (22.7799, -5.5969) -> (22.7802, -5.5969)
  line L190 (22.7802, -5.5969) -> (22.7799, -5.5969)
  line L191 (22.7802, -6.6967) -> (22.7799, -6.6967)
  line L192 (22.7799, -6.6967) -> (22.7802, -6.6967)
  arc A130 (22.7799, -3.0569) -> (22.7799, -4.1567) centre (22.7799, -3.6068) ccw
  arc A131 (22.7802, -4.1567) -> (22.7802, -3.0569) centre (22.7802, -3.6068) ccw
  line L193 (22.7802, -3.0569) -> (22.7799, -3.0569)
  line L194 (22.7799, -3.0569) -> (22.7802, -3.0569)
  line L195 (22.7802, -4.1567) -> (22.7799, -4.1567)
  line L196 (22.7799, -4.1567) -> (22.7802, -4.1567)
  arc A132 (11.8999, -51.6367) -> (10.8001, -51.6367) centre (11.35, -51.6367) ccw
  arc A133 (10.8001, -51.6369) -> (11.8999, -51.6369) centre (11.35, -51.6369) ccw
  line L197 (10.8001, -51.6369) -> (10.8001, -51.6367)
  line L198 (10.8001, -51.6367) -> (10.8001, -51.6369)
  line L199 (11.8999, -51.6367) -> (11.8999, -51.6369)
  line L200 (11.8999, -51.6369) -> (11.8999, -51.6367)
  arc A134 (14.4399, -51.6367) -> (13.3401, -51.6367) centre (13.89, -51.6367) ccw
  arc A135 (13.3401, -51.6369) -> (14.4399, -51.6369) centre (13.89, -51.6369) ccw
  line L201 (13.3401, -51.6369) -> (13.3401, -51.6367)
  line L202 (13.3401, -51.6367) -> (13.3401, -51.6369)
  line L203 (14.4399, -51.6367) -> (14.4399, -51.6369)
  line L204 (14.4399, -51.6369) -> (14.4399, -51.6367)
  arc A136 (16.9799, -51.6367) -> (15.8801, -51.6367) centre (16.43, -51.6367) ccw
  arc A137 (15.8801, -51.6369) -> (16.9799, -51.6369) centre (16.43, -51.6369) ccw
  line L205 (15.8801, -51.6367) -> (15.8801, -51.6369)
  line L206 (15.8801, -51.6369) -> (15.8801, -51.6367)
  line L207 (16.9799, -51.6367) -> (16.9799, -51.6369)
  line L208 (16.9799, -51.6369) -> (16.9799, -51.6367)
  circle A138 centre (58.8011, -4.5499) radius 0.4572
  circle A139 centre (61.3411, -4.5491) radius 0.4572
  circle A140 centre (61.3411, -4.5491) radius 0.762
  circle A141 centre (63.8811, -4.5491) radius 0.4572
  circle A142 centre (63.8811, -4.5491) radius 0.762
  circle A143 centre (66.4211, -4.5491) radius 0.4572
  circle A144 centre (66.4211, -4.5491) radius 0.762
  circle A145 centre (32.5001, -5.7501) radius 0.6
  circle A146 centre (32.5001, -5.7501) radius 0.9
  circle A147 centre (37.5001, -5.7501) radius 0.6
  circle A148 centre (37.5001, -5.7501) radius 0.9
  circle A149 centre (32.5001, -20.2499) radius 0.6
  circle A150 centre (32.5001, -20.2499) radius 0.9
  circle A151 centre (35, -20.2499) radius 0.6
  circle A152 centre (35, -20.2499) radius 0.9
  circle A153 centre (37.5001, -20.2499) radius 0.6
  circle A154 centre (37.5001, -20.2499) radius 0.9
  arc A155 (28.6, -12.0501) -> (30, -12.0501) centre (29.3, -12.0501) ccw
  arc A156 (30, -13.4501) -> (28.6, -13.4501) centre (29.3, -13.4501) ccw
  line L209 (28.6, -13.4501) -> (28.6, -12.0501)
  line L210 (28.6, -12.0501) -> (28.6, -13.4501)
  line L211 (30, -13.4501) -> (30, -12.0501)
  line L212 (30, -12.0501) -> (30, -13.4501)
  arc A157 (40, -12.0501) -> (41.4, -12.0501) centre (40.7, -12.0501) ccw
  arc A158 (41.4, -13.4501) -> (40, -13.4501) centre (40.7, -13.4501) ccw
  line L213 (40, -12.0501) -> (40, -13.4501)
  line L214 (40, -13.4501) -> (40, -12.0501)
  line L215 (41.4, -12.0501) -> (41.4, -13.4501)
  line L216 (41.4, -13.4501) -> (41.4, -12.0501)
  circle A159 centre (87.5001, -5.7501) radius 0.6
  circle A160 centre (87.5001, -5.7501) radius 0.9
  circle A161 centre (92.5001, -5.7501) radius 0.6
  circle A162 centre (92.5001, -5.7501) radius 0.9
  circle A163 centre (87.5001, -20.2499) radius 0.6
  circle A164 centre (87.5001, -20.2499) radius 0.9
  circle A165 centre (90, -20.2499) radius 0.6
  circle A166 centre (90, -20.2499) radius 0.9
  circle A167 centre (92.5001, -20.2499) radius 0.6
  circle A168 centre (92.5001, -20.2499) radius 0.9
  arc A169 (83.6, -12.0501) -> (85, -12.0501) centre (84.3, -12.0501) ccw
  arc A170 (85, -13.4501) -> (83.6, -13.4501) centre (84.3, -13.4501) ccw
  line L217 (83.6, -12.0501) -> (83.6, -13.4501)
  line L218 (83.6, -13.4501) -> (83.6, -12.0501)
  line L219 (85, -13.4501) -> (85, -12.0501)
  line L220 (85, -12.0501) -> (85, -13.4501)
  arc A171 (95, -12.0501) -> (96.4, -12.0501) centre (95.7, -12.0501) ccw
  arc A172 (96.4, -13.4501) -> (95, -13.4501) centre (95.7, -13.4501) ccw
  line L221 (95, -13.4501) -> (95, -12.0501)
  line L222 (95, -12.0501) -> (95, -13.4501)
  line L223 (96.4, -12.0501) -> (96.4, -13.4501)
  line L224 (96.4, -13.4501) -> (96.4, -12.0501)
  circle A173 centre (11.2355, -28.4567) radius 0.2
  circle A174 centre (8.2985, -33.2898) radius 0.2
  circle A175 centre (12.0828, -85.3744) radius 0.2
  circle A176 centre (90, -16.6876) radius 0.2
  circle A177 centre (43.7206, -68.8435) radius 0.2
  circle A178 centre (6.6589, -46.5507) radius 0.2
  circle A179 centre (65.2781, -49.0729) radius 0.2
  circle A180 centre (7.7234, -36.6269) radius 0.2
  circle A181 centre (37.9731, -42.0879) radius 1.9939
  circle A182 centre (62.1031, -42.0879) radius 1.9939
  circle A183 centre (86.2332, -42.0879) radius 1.9939
  circle A184 centre (14.097, -65.3924) radius 1.9939
  circle A185 centre (37.9731, -65.3924) radius 1.9939
  circle A186 centre (62.1031, -65.3924) radius 1.9939
  circle A187 centre (86.2332, -65.3924) radius 1.9939
  circle A188 centre (14.097, -88.697) radius 1.9939
  circle A189 centre (37.9731, -88.697) radius 1.9939
  circle A190 centre (62.1031, -88.697) radius 1.9939
  circle A191 centre (86.2332, -88.697) radius 1.9939
  circle A192 centre (52.1971, -28.1179) radius 1.016
  circle A193 centre (72.8981, -28.1179) radius 1.016
  circle A194 centre (52.1971, -4.9174) radius 1.016
  circle A195 centre (72.8981, -4.9174) radius 1.016
  line L225 (-2, -102) -> (-2, 2)
  line L226 (-2, 2) -> (102, 2)
  line L227 (102, 2) -> (102, -102)
  line L228 (102, -102) -> (-2, -102)
  line L229 (24.8899, -1.7367) -> (2.8899, -1.7367)
  line L230 (2.8899, -1.7367) -> (2.8899, -53.7367)
  line L231 (2.8899, -53.7367) -> (24.8899, -53.7367)
  line L232 (24.8899, -53.7367) -> (24.8899, -1.7367)
  line L233 (20.947, -96.197) -> (7.247, -96.197)
  line L234 (7.247, -96.197) -> (7.247, -81.197)
  line L235 (7.247, -81.197) -> (20.947, -81.197)
  line L236 (20.947, -81.197) -> (20.947, -96.197)
  line L237 (20.947, -96.197) -> (7.247, -81.197) construction
  line L238 (7.247, -96.197) -> (20.947, -81.197) construction
  line L239 (44.8231, -96.197) -> (31.1231, -96.197)
  line L240 (31.1231, -96.197) -> (31.1231, -81.197)
  line L241 (31.1231, -81.197) -> (44.8231, -81.197)
  line L242 (44.8231, -81.197) -> (44.8231, -96.197)
  line L243 (44.8231, -96.197) -> (31.1231, -81.197) construction
  line L244 (31.1231, -96.197) -> (44.8231, -81.197) construction
  line L245 (20.947, -72.8924) -> (7.247, -72.8924)
  line L246 (7.247, -72.8924) -> (7.247, -57.8924)
  line L247 (7.247, -57.8924) -> (20.947, -57.8924)
  line L248 (20.947, -57.8924) -> (20.947, -72.8924)
  line L249 (20.947, -72.8924) -> (7.247, -57.8924) construction
  line L250 (7.247, -72.8924) -> (20.947, -57.8924) construction
  line L251 (44.8231, -72.8924) -> (31.1231, -72.8924)
  line L252 (31.1231, -72.8924) -> (31.1231, -57.8924)
  line L253 (31.1231, -57.8924) -> (44.8231, -57.8924)
  line L254 (44.8231, -57.8924) -> (44.8231, -72.8924)
  line L255 (44.8231, -72.8924) -> (31.1231, -57.8924) construction
  line L256 (31.1231, -72.8924) -> (44.8231, -57.8924) construction
  line L257 (44.8231, -49.5879) -> (31.1231, -49.5879)
  line L258 (31.1231, -49.5879) -> (31.1231, -34.5879)
  line L259 (31.1231, -34.5879) -> (44.8231, -34.5879)
  line L260 (44.8231, -34.5879) -> (44.8231, -49.5879)
  line L261 (44.8231, -49.5879) -> (31.1231, -34.5879) construction
  line L262 (31.1231, -49.5879) -> (44.8231, -34.5879) construction
  line L263 (68.9531, -96.197) -> (55.2531, -96.197)
  line L264 (55.2531, -96.197) -> (55.2531, -81.197)
  line L265 (55.2531, -81.197) -> (68.9531, -81.197)
  line L266 (68.9531, -81.197) -> (68.9531, -96.197)
  line L267 (68.9531, -96.197) -> (55.2531, -81.197) construction
  line L268 (55.2531, -96.197) -> (68.9531, -81.197) construction
  line L269 (93.0832, -96.197) -> (79.3832, -96.197)
  line L270 (79.3832, -96.197) -> (79.3832, -81.197)
  line L271 (79.3832, -81.197) -> (93.0832, -81.197)
  line L272 (93.0832, -81.197) -> (93.0832, -96.197)
  line L273 (93.0832, -96.197) -> (79.3832, -81.197) construction
  line L274 (79.3832, -96.197) -> (93.0832, -81.197) construction
  line L275 (68.9531, -72.8924) -> (55.2531, -72.8924)
  line L276 (55.2531, -72.8924) -> (55.2531, -57.8924)
  line L277 (55.2531, -57.8924) -> (68.9531, -57.8924)
  line L278 (68.9531, -57.8924) -> (68.9531, -72.8924)
  line L279 (68.9531, -72.8924) -> (55.2531, -57.8924) construction
  line L280 (55.2531, -72.8924) -> (68.9531, -57.8924) construction
  line L281 (93.0832, -72.8924) -> (79.3832, -72.8924)
  line L282 (79.3832, -72.8924) -> (79.3832, -57.8924)
  line L283 (79.3832, -57.8924) -> (93.0832, -57.8924)
  line L284 (93.0832, -57.8924) -> (93.0832, -72.8924)
  line L285 (93.0832, -72.8924) -> (79.3832, -57.8924) construction
  line L286 (79.3832, -72.8924) -> (93.0832, -57.8924) construction
  line L287 (68.9531, -49.5879) -> (55.2531, -49.5879)
  line L288 (55.2531, -49.5879) -> (55.2531, -34.5879)
  line L289 (55.2531, -34.5879) -> (68.9531, -34.5879)
  line L290 (68.9531, -34.5879) -> (68.9531, -49.5879)
  line L291 (68.9531, -49.5879) -> (55.2531, -34.5879) construction
  line L292 (55.2531, -49.5879) -> (68.9531, -34.5879) construction
  line L293 (93.0832, -49.5879) -> (79.3832, -49.5879)
  line L294 (79.3832, -49.5879) -> (79.3832, -34.5879)
  line L295 (79.3832, -34.5879) -> (93.0832, -34.5879)
  line L296 (93.0832, -34.5879) -> (93.0832, -49.5879)
  line L297 (93.0832, -49.5879) -> (79.3832, -34.5879) construction
  line L298 (79.3832, -49.5879) -> (93.0832, -34.5879) construction
  line L299 (50.8951, -28.1499) -> (74.2113, -4.8412)
  line L300 (74.2113, -4.8412) -> (74.1961, -28.1534)
  line L301 (74.1961, -28.1534) -> (50.8915, -4.8514)
  line L302 (76.1953, -30.1524) -> (48.9111, -30.1524)
  line L303 (48.9111, -30.1524) -> (48.9111, -2.8387)
  line L304 (48.9111, -2.8387) -> (76.1953, -2.8387)
  line L305 (76.1953, -2.8387) -> (76.1953, -30.1524)
  line L306 (76.1953, -30.1524) -> (48.9111, -2.8387) construction
  line L307 (48.9111, -30.1524) -> (76.1953, -2.8387) construction
  line L308 (96.75, -21.2501) -> (83.25, -21.2501)
  line L309 (83.25, -21.2501) -> (83.25, -4.2501)
  line L310 (83.25, -4.2501) -> (96.75, -4.2501)
  line L311 (96.75, -4.2501) -> (96.75, -21.2501)
  line L312 (96.75, -21.2501) -> (83.25, -4.2501) construction
  line L313 (83.25, -21.2501) -> (96.75, -4.2501) construction
  line L314 (41.85, -21.2501) -> (28.15, -21.2501)
  line L315 (28.15, -21.2501) -> (28.15, -4.2501)
  line L316 (28.15, -4.2501) -> (41.85, -4.2501)
  line L317 (41.85, -4.2501) -> (41.85, -21.2501)
  line L318 (41.85, -21.2501) -> (28.15, -4.2501) construction
  line L319 (28.15, -21.2501) -> (41.85, -4.2501) construction
  line L320 (108, 5) -> (108, -105)
  line L321 (105, -108) -> (-5, -108)
  line L322 (-8, -105) -> (-8, 5)
  line L323 (-5, 8) -> (105, 8)
  line L324 (102, 2) -> (108, 8)
  line L325 (-8, 8) -> (-2, 2)
  line L326 (-8, -108) -> (-2, -102)
  line L327 (102, -102) -> (108, -108)
  circle A196 centre (105, -105) radius 1.1
  circle A197 centre (105, 5) radius 1.1
  circle A198 centre (-5, 5) radius 1.1
  circle A199 centre (-5, -105) radius 1.1
  arc A200 (-5, 8) -> (-8, 5) centre (-5, 5) ccw
  arc A201 (108, 5) -> (105, 8) centre (105, 5) ccw
  arc A202 (105, -108) -> (108, -105) centre (105, -105) ccw
  arc A203 (-8, -105) -> (-5, -108) centre (-5, -105) ccw
  point P0 (14.097, -88.697)
  point P1 (37.9731, -88.697)
  point P2 (14.097, -65.3924)
  point P3 (37.9731, -65.3924)
  point P4 (37.9731, -42.0879)
  point P5 (62.1031, -88.697)
  point P6 (86.2332, -88.697)
  point P7 (62.1031, -65.3924)
  point P8 (86.2332, -65.3924)
  point P9 (62.1031, -42.0879)
  point P10 (86.2332, -42.0879)
  point P11 (62.5532, -16.4956)
  point P12 (90, -12.7501)
  point P13 (35, -12.7501)
  dimension "d3" = 13.7
  dimension "d4" = 15
  dimension "d5" = 13.7
  dimension "d6" = 15
  dimension "d7" = 13.7
  dimension "d8" = 15
  dimension "d9" = 13.7
  dimension "d10" = 15
  dimension "d11" = 13.7
  dimension "d12" = 15
  dimension "d13" = 13.7
  dimension "d14" = 15
  dimension "d15" = 13.7
  dimension "d16" = 15
  dimension "d17" = 13.7
  dimension "d18" = 15
  dimension "d19" = 13.7
  dimension "d20" = 15
  dimension "d21" = 13.7
  dimension "d22" = 15
  dimension "d23" = 13.7
  dimension "d24" = 15
  dimension "d25" = 13.5
  dimension "d26" = 17
  dimension "d27" = 13.7
  dimension "d28" = 17
  dimension "d30" = 2.2
  dimension "d31" = 2.2
  dimension "d32" = 2.2
  dimension "d33" = 2.2
  dimension "d46" = 3
  dimension "d47" = 3
  dimension "d48" = 3
  dimension "d49" = 3
extrude "Extrude1" add sketch "MacroKeyboard" against normal blind 2 contours L225 L226 L227 L228
extrude "Extrude2" add sketch "MacroKeyboard" against normal blind 33 contours L225 L322 L325 L326 A198 A199 A200 A203 | L228 L321 L326 L327 A196 A199 A202 A203 | L226 L323 L324 L325 A197 A198 A200 A201 | L227 L320 L324 L327 A196 A197 A201 A202 | L326 A199 | L326 A199 | L325 A198 | L325 A198 | L327 A196 | L327 A196 | L324 A197 | L324 A197
extrude "Extrude3" cut sketch "MacroKeyboard" against normal blind 40 from surface at -20 contours L326 A199 | L326 A199 | L325 A198 | L325 A198 | L327 A196 | L327 A196 | L324 A197 | L324 A197
sketch "Sketch2" plane through (-8, 0, 0) normal (-1, 0, 0) x (0, -1, 0)
  line L0 (0, 105) -> (0, -5)
  line L1 (33, -5) -> (33, 105)
  circle A0 centre (18, 12) radius 8.5
  line L2 (0, -5) -> (33, -5)
  line L3 (33, 105) -> (0, 105)
  dimension "d41" = 17
  dimension "d43" = 18
extrude "Extrude4" cut sketch "Sketch2" against normal blind 13 contours A0
